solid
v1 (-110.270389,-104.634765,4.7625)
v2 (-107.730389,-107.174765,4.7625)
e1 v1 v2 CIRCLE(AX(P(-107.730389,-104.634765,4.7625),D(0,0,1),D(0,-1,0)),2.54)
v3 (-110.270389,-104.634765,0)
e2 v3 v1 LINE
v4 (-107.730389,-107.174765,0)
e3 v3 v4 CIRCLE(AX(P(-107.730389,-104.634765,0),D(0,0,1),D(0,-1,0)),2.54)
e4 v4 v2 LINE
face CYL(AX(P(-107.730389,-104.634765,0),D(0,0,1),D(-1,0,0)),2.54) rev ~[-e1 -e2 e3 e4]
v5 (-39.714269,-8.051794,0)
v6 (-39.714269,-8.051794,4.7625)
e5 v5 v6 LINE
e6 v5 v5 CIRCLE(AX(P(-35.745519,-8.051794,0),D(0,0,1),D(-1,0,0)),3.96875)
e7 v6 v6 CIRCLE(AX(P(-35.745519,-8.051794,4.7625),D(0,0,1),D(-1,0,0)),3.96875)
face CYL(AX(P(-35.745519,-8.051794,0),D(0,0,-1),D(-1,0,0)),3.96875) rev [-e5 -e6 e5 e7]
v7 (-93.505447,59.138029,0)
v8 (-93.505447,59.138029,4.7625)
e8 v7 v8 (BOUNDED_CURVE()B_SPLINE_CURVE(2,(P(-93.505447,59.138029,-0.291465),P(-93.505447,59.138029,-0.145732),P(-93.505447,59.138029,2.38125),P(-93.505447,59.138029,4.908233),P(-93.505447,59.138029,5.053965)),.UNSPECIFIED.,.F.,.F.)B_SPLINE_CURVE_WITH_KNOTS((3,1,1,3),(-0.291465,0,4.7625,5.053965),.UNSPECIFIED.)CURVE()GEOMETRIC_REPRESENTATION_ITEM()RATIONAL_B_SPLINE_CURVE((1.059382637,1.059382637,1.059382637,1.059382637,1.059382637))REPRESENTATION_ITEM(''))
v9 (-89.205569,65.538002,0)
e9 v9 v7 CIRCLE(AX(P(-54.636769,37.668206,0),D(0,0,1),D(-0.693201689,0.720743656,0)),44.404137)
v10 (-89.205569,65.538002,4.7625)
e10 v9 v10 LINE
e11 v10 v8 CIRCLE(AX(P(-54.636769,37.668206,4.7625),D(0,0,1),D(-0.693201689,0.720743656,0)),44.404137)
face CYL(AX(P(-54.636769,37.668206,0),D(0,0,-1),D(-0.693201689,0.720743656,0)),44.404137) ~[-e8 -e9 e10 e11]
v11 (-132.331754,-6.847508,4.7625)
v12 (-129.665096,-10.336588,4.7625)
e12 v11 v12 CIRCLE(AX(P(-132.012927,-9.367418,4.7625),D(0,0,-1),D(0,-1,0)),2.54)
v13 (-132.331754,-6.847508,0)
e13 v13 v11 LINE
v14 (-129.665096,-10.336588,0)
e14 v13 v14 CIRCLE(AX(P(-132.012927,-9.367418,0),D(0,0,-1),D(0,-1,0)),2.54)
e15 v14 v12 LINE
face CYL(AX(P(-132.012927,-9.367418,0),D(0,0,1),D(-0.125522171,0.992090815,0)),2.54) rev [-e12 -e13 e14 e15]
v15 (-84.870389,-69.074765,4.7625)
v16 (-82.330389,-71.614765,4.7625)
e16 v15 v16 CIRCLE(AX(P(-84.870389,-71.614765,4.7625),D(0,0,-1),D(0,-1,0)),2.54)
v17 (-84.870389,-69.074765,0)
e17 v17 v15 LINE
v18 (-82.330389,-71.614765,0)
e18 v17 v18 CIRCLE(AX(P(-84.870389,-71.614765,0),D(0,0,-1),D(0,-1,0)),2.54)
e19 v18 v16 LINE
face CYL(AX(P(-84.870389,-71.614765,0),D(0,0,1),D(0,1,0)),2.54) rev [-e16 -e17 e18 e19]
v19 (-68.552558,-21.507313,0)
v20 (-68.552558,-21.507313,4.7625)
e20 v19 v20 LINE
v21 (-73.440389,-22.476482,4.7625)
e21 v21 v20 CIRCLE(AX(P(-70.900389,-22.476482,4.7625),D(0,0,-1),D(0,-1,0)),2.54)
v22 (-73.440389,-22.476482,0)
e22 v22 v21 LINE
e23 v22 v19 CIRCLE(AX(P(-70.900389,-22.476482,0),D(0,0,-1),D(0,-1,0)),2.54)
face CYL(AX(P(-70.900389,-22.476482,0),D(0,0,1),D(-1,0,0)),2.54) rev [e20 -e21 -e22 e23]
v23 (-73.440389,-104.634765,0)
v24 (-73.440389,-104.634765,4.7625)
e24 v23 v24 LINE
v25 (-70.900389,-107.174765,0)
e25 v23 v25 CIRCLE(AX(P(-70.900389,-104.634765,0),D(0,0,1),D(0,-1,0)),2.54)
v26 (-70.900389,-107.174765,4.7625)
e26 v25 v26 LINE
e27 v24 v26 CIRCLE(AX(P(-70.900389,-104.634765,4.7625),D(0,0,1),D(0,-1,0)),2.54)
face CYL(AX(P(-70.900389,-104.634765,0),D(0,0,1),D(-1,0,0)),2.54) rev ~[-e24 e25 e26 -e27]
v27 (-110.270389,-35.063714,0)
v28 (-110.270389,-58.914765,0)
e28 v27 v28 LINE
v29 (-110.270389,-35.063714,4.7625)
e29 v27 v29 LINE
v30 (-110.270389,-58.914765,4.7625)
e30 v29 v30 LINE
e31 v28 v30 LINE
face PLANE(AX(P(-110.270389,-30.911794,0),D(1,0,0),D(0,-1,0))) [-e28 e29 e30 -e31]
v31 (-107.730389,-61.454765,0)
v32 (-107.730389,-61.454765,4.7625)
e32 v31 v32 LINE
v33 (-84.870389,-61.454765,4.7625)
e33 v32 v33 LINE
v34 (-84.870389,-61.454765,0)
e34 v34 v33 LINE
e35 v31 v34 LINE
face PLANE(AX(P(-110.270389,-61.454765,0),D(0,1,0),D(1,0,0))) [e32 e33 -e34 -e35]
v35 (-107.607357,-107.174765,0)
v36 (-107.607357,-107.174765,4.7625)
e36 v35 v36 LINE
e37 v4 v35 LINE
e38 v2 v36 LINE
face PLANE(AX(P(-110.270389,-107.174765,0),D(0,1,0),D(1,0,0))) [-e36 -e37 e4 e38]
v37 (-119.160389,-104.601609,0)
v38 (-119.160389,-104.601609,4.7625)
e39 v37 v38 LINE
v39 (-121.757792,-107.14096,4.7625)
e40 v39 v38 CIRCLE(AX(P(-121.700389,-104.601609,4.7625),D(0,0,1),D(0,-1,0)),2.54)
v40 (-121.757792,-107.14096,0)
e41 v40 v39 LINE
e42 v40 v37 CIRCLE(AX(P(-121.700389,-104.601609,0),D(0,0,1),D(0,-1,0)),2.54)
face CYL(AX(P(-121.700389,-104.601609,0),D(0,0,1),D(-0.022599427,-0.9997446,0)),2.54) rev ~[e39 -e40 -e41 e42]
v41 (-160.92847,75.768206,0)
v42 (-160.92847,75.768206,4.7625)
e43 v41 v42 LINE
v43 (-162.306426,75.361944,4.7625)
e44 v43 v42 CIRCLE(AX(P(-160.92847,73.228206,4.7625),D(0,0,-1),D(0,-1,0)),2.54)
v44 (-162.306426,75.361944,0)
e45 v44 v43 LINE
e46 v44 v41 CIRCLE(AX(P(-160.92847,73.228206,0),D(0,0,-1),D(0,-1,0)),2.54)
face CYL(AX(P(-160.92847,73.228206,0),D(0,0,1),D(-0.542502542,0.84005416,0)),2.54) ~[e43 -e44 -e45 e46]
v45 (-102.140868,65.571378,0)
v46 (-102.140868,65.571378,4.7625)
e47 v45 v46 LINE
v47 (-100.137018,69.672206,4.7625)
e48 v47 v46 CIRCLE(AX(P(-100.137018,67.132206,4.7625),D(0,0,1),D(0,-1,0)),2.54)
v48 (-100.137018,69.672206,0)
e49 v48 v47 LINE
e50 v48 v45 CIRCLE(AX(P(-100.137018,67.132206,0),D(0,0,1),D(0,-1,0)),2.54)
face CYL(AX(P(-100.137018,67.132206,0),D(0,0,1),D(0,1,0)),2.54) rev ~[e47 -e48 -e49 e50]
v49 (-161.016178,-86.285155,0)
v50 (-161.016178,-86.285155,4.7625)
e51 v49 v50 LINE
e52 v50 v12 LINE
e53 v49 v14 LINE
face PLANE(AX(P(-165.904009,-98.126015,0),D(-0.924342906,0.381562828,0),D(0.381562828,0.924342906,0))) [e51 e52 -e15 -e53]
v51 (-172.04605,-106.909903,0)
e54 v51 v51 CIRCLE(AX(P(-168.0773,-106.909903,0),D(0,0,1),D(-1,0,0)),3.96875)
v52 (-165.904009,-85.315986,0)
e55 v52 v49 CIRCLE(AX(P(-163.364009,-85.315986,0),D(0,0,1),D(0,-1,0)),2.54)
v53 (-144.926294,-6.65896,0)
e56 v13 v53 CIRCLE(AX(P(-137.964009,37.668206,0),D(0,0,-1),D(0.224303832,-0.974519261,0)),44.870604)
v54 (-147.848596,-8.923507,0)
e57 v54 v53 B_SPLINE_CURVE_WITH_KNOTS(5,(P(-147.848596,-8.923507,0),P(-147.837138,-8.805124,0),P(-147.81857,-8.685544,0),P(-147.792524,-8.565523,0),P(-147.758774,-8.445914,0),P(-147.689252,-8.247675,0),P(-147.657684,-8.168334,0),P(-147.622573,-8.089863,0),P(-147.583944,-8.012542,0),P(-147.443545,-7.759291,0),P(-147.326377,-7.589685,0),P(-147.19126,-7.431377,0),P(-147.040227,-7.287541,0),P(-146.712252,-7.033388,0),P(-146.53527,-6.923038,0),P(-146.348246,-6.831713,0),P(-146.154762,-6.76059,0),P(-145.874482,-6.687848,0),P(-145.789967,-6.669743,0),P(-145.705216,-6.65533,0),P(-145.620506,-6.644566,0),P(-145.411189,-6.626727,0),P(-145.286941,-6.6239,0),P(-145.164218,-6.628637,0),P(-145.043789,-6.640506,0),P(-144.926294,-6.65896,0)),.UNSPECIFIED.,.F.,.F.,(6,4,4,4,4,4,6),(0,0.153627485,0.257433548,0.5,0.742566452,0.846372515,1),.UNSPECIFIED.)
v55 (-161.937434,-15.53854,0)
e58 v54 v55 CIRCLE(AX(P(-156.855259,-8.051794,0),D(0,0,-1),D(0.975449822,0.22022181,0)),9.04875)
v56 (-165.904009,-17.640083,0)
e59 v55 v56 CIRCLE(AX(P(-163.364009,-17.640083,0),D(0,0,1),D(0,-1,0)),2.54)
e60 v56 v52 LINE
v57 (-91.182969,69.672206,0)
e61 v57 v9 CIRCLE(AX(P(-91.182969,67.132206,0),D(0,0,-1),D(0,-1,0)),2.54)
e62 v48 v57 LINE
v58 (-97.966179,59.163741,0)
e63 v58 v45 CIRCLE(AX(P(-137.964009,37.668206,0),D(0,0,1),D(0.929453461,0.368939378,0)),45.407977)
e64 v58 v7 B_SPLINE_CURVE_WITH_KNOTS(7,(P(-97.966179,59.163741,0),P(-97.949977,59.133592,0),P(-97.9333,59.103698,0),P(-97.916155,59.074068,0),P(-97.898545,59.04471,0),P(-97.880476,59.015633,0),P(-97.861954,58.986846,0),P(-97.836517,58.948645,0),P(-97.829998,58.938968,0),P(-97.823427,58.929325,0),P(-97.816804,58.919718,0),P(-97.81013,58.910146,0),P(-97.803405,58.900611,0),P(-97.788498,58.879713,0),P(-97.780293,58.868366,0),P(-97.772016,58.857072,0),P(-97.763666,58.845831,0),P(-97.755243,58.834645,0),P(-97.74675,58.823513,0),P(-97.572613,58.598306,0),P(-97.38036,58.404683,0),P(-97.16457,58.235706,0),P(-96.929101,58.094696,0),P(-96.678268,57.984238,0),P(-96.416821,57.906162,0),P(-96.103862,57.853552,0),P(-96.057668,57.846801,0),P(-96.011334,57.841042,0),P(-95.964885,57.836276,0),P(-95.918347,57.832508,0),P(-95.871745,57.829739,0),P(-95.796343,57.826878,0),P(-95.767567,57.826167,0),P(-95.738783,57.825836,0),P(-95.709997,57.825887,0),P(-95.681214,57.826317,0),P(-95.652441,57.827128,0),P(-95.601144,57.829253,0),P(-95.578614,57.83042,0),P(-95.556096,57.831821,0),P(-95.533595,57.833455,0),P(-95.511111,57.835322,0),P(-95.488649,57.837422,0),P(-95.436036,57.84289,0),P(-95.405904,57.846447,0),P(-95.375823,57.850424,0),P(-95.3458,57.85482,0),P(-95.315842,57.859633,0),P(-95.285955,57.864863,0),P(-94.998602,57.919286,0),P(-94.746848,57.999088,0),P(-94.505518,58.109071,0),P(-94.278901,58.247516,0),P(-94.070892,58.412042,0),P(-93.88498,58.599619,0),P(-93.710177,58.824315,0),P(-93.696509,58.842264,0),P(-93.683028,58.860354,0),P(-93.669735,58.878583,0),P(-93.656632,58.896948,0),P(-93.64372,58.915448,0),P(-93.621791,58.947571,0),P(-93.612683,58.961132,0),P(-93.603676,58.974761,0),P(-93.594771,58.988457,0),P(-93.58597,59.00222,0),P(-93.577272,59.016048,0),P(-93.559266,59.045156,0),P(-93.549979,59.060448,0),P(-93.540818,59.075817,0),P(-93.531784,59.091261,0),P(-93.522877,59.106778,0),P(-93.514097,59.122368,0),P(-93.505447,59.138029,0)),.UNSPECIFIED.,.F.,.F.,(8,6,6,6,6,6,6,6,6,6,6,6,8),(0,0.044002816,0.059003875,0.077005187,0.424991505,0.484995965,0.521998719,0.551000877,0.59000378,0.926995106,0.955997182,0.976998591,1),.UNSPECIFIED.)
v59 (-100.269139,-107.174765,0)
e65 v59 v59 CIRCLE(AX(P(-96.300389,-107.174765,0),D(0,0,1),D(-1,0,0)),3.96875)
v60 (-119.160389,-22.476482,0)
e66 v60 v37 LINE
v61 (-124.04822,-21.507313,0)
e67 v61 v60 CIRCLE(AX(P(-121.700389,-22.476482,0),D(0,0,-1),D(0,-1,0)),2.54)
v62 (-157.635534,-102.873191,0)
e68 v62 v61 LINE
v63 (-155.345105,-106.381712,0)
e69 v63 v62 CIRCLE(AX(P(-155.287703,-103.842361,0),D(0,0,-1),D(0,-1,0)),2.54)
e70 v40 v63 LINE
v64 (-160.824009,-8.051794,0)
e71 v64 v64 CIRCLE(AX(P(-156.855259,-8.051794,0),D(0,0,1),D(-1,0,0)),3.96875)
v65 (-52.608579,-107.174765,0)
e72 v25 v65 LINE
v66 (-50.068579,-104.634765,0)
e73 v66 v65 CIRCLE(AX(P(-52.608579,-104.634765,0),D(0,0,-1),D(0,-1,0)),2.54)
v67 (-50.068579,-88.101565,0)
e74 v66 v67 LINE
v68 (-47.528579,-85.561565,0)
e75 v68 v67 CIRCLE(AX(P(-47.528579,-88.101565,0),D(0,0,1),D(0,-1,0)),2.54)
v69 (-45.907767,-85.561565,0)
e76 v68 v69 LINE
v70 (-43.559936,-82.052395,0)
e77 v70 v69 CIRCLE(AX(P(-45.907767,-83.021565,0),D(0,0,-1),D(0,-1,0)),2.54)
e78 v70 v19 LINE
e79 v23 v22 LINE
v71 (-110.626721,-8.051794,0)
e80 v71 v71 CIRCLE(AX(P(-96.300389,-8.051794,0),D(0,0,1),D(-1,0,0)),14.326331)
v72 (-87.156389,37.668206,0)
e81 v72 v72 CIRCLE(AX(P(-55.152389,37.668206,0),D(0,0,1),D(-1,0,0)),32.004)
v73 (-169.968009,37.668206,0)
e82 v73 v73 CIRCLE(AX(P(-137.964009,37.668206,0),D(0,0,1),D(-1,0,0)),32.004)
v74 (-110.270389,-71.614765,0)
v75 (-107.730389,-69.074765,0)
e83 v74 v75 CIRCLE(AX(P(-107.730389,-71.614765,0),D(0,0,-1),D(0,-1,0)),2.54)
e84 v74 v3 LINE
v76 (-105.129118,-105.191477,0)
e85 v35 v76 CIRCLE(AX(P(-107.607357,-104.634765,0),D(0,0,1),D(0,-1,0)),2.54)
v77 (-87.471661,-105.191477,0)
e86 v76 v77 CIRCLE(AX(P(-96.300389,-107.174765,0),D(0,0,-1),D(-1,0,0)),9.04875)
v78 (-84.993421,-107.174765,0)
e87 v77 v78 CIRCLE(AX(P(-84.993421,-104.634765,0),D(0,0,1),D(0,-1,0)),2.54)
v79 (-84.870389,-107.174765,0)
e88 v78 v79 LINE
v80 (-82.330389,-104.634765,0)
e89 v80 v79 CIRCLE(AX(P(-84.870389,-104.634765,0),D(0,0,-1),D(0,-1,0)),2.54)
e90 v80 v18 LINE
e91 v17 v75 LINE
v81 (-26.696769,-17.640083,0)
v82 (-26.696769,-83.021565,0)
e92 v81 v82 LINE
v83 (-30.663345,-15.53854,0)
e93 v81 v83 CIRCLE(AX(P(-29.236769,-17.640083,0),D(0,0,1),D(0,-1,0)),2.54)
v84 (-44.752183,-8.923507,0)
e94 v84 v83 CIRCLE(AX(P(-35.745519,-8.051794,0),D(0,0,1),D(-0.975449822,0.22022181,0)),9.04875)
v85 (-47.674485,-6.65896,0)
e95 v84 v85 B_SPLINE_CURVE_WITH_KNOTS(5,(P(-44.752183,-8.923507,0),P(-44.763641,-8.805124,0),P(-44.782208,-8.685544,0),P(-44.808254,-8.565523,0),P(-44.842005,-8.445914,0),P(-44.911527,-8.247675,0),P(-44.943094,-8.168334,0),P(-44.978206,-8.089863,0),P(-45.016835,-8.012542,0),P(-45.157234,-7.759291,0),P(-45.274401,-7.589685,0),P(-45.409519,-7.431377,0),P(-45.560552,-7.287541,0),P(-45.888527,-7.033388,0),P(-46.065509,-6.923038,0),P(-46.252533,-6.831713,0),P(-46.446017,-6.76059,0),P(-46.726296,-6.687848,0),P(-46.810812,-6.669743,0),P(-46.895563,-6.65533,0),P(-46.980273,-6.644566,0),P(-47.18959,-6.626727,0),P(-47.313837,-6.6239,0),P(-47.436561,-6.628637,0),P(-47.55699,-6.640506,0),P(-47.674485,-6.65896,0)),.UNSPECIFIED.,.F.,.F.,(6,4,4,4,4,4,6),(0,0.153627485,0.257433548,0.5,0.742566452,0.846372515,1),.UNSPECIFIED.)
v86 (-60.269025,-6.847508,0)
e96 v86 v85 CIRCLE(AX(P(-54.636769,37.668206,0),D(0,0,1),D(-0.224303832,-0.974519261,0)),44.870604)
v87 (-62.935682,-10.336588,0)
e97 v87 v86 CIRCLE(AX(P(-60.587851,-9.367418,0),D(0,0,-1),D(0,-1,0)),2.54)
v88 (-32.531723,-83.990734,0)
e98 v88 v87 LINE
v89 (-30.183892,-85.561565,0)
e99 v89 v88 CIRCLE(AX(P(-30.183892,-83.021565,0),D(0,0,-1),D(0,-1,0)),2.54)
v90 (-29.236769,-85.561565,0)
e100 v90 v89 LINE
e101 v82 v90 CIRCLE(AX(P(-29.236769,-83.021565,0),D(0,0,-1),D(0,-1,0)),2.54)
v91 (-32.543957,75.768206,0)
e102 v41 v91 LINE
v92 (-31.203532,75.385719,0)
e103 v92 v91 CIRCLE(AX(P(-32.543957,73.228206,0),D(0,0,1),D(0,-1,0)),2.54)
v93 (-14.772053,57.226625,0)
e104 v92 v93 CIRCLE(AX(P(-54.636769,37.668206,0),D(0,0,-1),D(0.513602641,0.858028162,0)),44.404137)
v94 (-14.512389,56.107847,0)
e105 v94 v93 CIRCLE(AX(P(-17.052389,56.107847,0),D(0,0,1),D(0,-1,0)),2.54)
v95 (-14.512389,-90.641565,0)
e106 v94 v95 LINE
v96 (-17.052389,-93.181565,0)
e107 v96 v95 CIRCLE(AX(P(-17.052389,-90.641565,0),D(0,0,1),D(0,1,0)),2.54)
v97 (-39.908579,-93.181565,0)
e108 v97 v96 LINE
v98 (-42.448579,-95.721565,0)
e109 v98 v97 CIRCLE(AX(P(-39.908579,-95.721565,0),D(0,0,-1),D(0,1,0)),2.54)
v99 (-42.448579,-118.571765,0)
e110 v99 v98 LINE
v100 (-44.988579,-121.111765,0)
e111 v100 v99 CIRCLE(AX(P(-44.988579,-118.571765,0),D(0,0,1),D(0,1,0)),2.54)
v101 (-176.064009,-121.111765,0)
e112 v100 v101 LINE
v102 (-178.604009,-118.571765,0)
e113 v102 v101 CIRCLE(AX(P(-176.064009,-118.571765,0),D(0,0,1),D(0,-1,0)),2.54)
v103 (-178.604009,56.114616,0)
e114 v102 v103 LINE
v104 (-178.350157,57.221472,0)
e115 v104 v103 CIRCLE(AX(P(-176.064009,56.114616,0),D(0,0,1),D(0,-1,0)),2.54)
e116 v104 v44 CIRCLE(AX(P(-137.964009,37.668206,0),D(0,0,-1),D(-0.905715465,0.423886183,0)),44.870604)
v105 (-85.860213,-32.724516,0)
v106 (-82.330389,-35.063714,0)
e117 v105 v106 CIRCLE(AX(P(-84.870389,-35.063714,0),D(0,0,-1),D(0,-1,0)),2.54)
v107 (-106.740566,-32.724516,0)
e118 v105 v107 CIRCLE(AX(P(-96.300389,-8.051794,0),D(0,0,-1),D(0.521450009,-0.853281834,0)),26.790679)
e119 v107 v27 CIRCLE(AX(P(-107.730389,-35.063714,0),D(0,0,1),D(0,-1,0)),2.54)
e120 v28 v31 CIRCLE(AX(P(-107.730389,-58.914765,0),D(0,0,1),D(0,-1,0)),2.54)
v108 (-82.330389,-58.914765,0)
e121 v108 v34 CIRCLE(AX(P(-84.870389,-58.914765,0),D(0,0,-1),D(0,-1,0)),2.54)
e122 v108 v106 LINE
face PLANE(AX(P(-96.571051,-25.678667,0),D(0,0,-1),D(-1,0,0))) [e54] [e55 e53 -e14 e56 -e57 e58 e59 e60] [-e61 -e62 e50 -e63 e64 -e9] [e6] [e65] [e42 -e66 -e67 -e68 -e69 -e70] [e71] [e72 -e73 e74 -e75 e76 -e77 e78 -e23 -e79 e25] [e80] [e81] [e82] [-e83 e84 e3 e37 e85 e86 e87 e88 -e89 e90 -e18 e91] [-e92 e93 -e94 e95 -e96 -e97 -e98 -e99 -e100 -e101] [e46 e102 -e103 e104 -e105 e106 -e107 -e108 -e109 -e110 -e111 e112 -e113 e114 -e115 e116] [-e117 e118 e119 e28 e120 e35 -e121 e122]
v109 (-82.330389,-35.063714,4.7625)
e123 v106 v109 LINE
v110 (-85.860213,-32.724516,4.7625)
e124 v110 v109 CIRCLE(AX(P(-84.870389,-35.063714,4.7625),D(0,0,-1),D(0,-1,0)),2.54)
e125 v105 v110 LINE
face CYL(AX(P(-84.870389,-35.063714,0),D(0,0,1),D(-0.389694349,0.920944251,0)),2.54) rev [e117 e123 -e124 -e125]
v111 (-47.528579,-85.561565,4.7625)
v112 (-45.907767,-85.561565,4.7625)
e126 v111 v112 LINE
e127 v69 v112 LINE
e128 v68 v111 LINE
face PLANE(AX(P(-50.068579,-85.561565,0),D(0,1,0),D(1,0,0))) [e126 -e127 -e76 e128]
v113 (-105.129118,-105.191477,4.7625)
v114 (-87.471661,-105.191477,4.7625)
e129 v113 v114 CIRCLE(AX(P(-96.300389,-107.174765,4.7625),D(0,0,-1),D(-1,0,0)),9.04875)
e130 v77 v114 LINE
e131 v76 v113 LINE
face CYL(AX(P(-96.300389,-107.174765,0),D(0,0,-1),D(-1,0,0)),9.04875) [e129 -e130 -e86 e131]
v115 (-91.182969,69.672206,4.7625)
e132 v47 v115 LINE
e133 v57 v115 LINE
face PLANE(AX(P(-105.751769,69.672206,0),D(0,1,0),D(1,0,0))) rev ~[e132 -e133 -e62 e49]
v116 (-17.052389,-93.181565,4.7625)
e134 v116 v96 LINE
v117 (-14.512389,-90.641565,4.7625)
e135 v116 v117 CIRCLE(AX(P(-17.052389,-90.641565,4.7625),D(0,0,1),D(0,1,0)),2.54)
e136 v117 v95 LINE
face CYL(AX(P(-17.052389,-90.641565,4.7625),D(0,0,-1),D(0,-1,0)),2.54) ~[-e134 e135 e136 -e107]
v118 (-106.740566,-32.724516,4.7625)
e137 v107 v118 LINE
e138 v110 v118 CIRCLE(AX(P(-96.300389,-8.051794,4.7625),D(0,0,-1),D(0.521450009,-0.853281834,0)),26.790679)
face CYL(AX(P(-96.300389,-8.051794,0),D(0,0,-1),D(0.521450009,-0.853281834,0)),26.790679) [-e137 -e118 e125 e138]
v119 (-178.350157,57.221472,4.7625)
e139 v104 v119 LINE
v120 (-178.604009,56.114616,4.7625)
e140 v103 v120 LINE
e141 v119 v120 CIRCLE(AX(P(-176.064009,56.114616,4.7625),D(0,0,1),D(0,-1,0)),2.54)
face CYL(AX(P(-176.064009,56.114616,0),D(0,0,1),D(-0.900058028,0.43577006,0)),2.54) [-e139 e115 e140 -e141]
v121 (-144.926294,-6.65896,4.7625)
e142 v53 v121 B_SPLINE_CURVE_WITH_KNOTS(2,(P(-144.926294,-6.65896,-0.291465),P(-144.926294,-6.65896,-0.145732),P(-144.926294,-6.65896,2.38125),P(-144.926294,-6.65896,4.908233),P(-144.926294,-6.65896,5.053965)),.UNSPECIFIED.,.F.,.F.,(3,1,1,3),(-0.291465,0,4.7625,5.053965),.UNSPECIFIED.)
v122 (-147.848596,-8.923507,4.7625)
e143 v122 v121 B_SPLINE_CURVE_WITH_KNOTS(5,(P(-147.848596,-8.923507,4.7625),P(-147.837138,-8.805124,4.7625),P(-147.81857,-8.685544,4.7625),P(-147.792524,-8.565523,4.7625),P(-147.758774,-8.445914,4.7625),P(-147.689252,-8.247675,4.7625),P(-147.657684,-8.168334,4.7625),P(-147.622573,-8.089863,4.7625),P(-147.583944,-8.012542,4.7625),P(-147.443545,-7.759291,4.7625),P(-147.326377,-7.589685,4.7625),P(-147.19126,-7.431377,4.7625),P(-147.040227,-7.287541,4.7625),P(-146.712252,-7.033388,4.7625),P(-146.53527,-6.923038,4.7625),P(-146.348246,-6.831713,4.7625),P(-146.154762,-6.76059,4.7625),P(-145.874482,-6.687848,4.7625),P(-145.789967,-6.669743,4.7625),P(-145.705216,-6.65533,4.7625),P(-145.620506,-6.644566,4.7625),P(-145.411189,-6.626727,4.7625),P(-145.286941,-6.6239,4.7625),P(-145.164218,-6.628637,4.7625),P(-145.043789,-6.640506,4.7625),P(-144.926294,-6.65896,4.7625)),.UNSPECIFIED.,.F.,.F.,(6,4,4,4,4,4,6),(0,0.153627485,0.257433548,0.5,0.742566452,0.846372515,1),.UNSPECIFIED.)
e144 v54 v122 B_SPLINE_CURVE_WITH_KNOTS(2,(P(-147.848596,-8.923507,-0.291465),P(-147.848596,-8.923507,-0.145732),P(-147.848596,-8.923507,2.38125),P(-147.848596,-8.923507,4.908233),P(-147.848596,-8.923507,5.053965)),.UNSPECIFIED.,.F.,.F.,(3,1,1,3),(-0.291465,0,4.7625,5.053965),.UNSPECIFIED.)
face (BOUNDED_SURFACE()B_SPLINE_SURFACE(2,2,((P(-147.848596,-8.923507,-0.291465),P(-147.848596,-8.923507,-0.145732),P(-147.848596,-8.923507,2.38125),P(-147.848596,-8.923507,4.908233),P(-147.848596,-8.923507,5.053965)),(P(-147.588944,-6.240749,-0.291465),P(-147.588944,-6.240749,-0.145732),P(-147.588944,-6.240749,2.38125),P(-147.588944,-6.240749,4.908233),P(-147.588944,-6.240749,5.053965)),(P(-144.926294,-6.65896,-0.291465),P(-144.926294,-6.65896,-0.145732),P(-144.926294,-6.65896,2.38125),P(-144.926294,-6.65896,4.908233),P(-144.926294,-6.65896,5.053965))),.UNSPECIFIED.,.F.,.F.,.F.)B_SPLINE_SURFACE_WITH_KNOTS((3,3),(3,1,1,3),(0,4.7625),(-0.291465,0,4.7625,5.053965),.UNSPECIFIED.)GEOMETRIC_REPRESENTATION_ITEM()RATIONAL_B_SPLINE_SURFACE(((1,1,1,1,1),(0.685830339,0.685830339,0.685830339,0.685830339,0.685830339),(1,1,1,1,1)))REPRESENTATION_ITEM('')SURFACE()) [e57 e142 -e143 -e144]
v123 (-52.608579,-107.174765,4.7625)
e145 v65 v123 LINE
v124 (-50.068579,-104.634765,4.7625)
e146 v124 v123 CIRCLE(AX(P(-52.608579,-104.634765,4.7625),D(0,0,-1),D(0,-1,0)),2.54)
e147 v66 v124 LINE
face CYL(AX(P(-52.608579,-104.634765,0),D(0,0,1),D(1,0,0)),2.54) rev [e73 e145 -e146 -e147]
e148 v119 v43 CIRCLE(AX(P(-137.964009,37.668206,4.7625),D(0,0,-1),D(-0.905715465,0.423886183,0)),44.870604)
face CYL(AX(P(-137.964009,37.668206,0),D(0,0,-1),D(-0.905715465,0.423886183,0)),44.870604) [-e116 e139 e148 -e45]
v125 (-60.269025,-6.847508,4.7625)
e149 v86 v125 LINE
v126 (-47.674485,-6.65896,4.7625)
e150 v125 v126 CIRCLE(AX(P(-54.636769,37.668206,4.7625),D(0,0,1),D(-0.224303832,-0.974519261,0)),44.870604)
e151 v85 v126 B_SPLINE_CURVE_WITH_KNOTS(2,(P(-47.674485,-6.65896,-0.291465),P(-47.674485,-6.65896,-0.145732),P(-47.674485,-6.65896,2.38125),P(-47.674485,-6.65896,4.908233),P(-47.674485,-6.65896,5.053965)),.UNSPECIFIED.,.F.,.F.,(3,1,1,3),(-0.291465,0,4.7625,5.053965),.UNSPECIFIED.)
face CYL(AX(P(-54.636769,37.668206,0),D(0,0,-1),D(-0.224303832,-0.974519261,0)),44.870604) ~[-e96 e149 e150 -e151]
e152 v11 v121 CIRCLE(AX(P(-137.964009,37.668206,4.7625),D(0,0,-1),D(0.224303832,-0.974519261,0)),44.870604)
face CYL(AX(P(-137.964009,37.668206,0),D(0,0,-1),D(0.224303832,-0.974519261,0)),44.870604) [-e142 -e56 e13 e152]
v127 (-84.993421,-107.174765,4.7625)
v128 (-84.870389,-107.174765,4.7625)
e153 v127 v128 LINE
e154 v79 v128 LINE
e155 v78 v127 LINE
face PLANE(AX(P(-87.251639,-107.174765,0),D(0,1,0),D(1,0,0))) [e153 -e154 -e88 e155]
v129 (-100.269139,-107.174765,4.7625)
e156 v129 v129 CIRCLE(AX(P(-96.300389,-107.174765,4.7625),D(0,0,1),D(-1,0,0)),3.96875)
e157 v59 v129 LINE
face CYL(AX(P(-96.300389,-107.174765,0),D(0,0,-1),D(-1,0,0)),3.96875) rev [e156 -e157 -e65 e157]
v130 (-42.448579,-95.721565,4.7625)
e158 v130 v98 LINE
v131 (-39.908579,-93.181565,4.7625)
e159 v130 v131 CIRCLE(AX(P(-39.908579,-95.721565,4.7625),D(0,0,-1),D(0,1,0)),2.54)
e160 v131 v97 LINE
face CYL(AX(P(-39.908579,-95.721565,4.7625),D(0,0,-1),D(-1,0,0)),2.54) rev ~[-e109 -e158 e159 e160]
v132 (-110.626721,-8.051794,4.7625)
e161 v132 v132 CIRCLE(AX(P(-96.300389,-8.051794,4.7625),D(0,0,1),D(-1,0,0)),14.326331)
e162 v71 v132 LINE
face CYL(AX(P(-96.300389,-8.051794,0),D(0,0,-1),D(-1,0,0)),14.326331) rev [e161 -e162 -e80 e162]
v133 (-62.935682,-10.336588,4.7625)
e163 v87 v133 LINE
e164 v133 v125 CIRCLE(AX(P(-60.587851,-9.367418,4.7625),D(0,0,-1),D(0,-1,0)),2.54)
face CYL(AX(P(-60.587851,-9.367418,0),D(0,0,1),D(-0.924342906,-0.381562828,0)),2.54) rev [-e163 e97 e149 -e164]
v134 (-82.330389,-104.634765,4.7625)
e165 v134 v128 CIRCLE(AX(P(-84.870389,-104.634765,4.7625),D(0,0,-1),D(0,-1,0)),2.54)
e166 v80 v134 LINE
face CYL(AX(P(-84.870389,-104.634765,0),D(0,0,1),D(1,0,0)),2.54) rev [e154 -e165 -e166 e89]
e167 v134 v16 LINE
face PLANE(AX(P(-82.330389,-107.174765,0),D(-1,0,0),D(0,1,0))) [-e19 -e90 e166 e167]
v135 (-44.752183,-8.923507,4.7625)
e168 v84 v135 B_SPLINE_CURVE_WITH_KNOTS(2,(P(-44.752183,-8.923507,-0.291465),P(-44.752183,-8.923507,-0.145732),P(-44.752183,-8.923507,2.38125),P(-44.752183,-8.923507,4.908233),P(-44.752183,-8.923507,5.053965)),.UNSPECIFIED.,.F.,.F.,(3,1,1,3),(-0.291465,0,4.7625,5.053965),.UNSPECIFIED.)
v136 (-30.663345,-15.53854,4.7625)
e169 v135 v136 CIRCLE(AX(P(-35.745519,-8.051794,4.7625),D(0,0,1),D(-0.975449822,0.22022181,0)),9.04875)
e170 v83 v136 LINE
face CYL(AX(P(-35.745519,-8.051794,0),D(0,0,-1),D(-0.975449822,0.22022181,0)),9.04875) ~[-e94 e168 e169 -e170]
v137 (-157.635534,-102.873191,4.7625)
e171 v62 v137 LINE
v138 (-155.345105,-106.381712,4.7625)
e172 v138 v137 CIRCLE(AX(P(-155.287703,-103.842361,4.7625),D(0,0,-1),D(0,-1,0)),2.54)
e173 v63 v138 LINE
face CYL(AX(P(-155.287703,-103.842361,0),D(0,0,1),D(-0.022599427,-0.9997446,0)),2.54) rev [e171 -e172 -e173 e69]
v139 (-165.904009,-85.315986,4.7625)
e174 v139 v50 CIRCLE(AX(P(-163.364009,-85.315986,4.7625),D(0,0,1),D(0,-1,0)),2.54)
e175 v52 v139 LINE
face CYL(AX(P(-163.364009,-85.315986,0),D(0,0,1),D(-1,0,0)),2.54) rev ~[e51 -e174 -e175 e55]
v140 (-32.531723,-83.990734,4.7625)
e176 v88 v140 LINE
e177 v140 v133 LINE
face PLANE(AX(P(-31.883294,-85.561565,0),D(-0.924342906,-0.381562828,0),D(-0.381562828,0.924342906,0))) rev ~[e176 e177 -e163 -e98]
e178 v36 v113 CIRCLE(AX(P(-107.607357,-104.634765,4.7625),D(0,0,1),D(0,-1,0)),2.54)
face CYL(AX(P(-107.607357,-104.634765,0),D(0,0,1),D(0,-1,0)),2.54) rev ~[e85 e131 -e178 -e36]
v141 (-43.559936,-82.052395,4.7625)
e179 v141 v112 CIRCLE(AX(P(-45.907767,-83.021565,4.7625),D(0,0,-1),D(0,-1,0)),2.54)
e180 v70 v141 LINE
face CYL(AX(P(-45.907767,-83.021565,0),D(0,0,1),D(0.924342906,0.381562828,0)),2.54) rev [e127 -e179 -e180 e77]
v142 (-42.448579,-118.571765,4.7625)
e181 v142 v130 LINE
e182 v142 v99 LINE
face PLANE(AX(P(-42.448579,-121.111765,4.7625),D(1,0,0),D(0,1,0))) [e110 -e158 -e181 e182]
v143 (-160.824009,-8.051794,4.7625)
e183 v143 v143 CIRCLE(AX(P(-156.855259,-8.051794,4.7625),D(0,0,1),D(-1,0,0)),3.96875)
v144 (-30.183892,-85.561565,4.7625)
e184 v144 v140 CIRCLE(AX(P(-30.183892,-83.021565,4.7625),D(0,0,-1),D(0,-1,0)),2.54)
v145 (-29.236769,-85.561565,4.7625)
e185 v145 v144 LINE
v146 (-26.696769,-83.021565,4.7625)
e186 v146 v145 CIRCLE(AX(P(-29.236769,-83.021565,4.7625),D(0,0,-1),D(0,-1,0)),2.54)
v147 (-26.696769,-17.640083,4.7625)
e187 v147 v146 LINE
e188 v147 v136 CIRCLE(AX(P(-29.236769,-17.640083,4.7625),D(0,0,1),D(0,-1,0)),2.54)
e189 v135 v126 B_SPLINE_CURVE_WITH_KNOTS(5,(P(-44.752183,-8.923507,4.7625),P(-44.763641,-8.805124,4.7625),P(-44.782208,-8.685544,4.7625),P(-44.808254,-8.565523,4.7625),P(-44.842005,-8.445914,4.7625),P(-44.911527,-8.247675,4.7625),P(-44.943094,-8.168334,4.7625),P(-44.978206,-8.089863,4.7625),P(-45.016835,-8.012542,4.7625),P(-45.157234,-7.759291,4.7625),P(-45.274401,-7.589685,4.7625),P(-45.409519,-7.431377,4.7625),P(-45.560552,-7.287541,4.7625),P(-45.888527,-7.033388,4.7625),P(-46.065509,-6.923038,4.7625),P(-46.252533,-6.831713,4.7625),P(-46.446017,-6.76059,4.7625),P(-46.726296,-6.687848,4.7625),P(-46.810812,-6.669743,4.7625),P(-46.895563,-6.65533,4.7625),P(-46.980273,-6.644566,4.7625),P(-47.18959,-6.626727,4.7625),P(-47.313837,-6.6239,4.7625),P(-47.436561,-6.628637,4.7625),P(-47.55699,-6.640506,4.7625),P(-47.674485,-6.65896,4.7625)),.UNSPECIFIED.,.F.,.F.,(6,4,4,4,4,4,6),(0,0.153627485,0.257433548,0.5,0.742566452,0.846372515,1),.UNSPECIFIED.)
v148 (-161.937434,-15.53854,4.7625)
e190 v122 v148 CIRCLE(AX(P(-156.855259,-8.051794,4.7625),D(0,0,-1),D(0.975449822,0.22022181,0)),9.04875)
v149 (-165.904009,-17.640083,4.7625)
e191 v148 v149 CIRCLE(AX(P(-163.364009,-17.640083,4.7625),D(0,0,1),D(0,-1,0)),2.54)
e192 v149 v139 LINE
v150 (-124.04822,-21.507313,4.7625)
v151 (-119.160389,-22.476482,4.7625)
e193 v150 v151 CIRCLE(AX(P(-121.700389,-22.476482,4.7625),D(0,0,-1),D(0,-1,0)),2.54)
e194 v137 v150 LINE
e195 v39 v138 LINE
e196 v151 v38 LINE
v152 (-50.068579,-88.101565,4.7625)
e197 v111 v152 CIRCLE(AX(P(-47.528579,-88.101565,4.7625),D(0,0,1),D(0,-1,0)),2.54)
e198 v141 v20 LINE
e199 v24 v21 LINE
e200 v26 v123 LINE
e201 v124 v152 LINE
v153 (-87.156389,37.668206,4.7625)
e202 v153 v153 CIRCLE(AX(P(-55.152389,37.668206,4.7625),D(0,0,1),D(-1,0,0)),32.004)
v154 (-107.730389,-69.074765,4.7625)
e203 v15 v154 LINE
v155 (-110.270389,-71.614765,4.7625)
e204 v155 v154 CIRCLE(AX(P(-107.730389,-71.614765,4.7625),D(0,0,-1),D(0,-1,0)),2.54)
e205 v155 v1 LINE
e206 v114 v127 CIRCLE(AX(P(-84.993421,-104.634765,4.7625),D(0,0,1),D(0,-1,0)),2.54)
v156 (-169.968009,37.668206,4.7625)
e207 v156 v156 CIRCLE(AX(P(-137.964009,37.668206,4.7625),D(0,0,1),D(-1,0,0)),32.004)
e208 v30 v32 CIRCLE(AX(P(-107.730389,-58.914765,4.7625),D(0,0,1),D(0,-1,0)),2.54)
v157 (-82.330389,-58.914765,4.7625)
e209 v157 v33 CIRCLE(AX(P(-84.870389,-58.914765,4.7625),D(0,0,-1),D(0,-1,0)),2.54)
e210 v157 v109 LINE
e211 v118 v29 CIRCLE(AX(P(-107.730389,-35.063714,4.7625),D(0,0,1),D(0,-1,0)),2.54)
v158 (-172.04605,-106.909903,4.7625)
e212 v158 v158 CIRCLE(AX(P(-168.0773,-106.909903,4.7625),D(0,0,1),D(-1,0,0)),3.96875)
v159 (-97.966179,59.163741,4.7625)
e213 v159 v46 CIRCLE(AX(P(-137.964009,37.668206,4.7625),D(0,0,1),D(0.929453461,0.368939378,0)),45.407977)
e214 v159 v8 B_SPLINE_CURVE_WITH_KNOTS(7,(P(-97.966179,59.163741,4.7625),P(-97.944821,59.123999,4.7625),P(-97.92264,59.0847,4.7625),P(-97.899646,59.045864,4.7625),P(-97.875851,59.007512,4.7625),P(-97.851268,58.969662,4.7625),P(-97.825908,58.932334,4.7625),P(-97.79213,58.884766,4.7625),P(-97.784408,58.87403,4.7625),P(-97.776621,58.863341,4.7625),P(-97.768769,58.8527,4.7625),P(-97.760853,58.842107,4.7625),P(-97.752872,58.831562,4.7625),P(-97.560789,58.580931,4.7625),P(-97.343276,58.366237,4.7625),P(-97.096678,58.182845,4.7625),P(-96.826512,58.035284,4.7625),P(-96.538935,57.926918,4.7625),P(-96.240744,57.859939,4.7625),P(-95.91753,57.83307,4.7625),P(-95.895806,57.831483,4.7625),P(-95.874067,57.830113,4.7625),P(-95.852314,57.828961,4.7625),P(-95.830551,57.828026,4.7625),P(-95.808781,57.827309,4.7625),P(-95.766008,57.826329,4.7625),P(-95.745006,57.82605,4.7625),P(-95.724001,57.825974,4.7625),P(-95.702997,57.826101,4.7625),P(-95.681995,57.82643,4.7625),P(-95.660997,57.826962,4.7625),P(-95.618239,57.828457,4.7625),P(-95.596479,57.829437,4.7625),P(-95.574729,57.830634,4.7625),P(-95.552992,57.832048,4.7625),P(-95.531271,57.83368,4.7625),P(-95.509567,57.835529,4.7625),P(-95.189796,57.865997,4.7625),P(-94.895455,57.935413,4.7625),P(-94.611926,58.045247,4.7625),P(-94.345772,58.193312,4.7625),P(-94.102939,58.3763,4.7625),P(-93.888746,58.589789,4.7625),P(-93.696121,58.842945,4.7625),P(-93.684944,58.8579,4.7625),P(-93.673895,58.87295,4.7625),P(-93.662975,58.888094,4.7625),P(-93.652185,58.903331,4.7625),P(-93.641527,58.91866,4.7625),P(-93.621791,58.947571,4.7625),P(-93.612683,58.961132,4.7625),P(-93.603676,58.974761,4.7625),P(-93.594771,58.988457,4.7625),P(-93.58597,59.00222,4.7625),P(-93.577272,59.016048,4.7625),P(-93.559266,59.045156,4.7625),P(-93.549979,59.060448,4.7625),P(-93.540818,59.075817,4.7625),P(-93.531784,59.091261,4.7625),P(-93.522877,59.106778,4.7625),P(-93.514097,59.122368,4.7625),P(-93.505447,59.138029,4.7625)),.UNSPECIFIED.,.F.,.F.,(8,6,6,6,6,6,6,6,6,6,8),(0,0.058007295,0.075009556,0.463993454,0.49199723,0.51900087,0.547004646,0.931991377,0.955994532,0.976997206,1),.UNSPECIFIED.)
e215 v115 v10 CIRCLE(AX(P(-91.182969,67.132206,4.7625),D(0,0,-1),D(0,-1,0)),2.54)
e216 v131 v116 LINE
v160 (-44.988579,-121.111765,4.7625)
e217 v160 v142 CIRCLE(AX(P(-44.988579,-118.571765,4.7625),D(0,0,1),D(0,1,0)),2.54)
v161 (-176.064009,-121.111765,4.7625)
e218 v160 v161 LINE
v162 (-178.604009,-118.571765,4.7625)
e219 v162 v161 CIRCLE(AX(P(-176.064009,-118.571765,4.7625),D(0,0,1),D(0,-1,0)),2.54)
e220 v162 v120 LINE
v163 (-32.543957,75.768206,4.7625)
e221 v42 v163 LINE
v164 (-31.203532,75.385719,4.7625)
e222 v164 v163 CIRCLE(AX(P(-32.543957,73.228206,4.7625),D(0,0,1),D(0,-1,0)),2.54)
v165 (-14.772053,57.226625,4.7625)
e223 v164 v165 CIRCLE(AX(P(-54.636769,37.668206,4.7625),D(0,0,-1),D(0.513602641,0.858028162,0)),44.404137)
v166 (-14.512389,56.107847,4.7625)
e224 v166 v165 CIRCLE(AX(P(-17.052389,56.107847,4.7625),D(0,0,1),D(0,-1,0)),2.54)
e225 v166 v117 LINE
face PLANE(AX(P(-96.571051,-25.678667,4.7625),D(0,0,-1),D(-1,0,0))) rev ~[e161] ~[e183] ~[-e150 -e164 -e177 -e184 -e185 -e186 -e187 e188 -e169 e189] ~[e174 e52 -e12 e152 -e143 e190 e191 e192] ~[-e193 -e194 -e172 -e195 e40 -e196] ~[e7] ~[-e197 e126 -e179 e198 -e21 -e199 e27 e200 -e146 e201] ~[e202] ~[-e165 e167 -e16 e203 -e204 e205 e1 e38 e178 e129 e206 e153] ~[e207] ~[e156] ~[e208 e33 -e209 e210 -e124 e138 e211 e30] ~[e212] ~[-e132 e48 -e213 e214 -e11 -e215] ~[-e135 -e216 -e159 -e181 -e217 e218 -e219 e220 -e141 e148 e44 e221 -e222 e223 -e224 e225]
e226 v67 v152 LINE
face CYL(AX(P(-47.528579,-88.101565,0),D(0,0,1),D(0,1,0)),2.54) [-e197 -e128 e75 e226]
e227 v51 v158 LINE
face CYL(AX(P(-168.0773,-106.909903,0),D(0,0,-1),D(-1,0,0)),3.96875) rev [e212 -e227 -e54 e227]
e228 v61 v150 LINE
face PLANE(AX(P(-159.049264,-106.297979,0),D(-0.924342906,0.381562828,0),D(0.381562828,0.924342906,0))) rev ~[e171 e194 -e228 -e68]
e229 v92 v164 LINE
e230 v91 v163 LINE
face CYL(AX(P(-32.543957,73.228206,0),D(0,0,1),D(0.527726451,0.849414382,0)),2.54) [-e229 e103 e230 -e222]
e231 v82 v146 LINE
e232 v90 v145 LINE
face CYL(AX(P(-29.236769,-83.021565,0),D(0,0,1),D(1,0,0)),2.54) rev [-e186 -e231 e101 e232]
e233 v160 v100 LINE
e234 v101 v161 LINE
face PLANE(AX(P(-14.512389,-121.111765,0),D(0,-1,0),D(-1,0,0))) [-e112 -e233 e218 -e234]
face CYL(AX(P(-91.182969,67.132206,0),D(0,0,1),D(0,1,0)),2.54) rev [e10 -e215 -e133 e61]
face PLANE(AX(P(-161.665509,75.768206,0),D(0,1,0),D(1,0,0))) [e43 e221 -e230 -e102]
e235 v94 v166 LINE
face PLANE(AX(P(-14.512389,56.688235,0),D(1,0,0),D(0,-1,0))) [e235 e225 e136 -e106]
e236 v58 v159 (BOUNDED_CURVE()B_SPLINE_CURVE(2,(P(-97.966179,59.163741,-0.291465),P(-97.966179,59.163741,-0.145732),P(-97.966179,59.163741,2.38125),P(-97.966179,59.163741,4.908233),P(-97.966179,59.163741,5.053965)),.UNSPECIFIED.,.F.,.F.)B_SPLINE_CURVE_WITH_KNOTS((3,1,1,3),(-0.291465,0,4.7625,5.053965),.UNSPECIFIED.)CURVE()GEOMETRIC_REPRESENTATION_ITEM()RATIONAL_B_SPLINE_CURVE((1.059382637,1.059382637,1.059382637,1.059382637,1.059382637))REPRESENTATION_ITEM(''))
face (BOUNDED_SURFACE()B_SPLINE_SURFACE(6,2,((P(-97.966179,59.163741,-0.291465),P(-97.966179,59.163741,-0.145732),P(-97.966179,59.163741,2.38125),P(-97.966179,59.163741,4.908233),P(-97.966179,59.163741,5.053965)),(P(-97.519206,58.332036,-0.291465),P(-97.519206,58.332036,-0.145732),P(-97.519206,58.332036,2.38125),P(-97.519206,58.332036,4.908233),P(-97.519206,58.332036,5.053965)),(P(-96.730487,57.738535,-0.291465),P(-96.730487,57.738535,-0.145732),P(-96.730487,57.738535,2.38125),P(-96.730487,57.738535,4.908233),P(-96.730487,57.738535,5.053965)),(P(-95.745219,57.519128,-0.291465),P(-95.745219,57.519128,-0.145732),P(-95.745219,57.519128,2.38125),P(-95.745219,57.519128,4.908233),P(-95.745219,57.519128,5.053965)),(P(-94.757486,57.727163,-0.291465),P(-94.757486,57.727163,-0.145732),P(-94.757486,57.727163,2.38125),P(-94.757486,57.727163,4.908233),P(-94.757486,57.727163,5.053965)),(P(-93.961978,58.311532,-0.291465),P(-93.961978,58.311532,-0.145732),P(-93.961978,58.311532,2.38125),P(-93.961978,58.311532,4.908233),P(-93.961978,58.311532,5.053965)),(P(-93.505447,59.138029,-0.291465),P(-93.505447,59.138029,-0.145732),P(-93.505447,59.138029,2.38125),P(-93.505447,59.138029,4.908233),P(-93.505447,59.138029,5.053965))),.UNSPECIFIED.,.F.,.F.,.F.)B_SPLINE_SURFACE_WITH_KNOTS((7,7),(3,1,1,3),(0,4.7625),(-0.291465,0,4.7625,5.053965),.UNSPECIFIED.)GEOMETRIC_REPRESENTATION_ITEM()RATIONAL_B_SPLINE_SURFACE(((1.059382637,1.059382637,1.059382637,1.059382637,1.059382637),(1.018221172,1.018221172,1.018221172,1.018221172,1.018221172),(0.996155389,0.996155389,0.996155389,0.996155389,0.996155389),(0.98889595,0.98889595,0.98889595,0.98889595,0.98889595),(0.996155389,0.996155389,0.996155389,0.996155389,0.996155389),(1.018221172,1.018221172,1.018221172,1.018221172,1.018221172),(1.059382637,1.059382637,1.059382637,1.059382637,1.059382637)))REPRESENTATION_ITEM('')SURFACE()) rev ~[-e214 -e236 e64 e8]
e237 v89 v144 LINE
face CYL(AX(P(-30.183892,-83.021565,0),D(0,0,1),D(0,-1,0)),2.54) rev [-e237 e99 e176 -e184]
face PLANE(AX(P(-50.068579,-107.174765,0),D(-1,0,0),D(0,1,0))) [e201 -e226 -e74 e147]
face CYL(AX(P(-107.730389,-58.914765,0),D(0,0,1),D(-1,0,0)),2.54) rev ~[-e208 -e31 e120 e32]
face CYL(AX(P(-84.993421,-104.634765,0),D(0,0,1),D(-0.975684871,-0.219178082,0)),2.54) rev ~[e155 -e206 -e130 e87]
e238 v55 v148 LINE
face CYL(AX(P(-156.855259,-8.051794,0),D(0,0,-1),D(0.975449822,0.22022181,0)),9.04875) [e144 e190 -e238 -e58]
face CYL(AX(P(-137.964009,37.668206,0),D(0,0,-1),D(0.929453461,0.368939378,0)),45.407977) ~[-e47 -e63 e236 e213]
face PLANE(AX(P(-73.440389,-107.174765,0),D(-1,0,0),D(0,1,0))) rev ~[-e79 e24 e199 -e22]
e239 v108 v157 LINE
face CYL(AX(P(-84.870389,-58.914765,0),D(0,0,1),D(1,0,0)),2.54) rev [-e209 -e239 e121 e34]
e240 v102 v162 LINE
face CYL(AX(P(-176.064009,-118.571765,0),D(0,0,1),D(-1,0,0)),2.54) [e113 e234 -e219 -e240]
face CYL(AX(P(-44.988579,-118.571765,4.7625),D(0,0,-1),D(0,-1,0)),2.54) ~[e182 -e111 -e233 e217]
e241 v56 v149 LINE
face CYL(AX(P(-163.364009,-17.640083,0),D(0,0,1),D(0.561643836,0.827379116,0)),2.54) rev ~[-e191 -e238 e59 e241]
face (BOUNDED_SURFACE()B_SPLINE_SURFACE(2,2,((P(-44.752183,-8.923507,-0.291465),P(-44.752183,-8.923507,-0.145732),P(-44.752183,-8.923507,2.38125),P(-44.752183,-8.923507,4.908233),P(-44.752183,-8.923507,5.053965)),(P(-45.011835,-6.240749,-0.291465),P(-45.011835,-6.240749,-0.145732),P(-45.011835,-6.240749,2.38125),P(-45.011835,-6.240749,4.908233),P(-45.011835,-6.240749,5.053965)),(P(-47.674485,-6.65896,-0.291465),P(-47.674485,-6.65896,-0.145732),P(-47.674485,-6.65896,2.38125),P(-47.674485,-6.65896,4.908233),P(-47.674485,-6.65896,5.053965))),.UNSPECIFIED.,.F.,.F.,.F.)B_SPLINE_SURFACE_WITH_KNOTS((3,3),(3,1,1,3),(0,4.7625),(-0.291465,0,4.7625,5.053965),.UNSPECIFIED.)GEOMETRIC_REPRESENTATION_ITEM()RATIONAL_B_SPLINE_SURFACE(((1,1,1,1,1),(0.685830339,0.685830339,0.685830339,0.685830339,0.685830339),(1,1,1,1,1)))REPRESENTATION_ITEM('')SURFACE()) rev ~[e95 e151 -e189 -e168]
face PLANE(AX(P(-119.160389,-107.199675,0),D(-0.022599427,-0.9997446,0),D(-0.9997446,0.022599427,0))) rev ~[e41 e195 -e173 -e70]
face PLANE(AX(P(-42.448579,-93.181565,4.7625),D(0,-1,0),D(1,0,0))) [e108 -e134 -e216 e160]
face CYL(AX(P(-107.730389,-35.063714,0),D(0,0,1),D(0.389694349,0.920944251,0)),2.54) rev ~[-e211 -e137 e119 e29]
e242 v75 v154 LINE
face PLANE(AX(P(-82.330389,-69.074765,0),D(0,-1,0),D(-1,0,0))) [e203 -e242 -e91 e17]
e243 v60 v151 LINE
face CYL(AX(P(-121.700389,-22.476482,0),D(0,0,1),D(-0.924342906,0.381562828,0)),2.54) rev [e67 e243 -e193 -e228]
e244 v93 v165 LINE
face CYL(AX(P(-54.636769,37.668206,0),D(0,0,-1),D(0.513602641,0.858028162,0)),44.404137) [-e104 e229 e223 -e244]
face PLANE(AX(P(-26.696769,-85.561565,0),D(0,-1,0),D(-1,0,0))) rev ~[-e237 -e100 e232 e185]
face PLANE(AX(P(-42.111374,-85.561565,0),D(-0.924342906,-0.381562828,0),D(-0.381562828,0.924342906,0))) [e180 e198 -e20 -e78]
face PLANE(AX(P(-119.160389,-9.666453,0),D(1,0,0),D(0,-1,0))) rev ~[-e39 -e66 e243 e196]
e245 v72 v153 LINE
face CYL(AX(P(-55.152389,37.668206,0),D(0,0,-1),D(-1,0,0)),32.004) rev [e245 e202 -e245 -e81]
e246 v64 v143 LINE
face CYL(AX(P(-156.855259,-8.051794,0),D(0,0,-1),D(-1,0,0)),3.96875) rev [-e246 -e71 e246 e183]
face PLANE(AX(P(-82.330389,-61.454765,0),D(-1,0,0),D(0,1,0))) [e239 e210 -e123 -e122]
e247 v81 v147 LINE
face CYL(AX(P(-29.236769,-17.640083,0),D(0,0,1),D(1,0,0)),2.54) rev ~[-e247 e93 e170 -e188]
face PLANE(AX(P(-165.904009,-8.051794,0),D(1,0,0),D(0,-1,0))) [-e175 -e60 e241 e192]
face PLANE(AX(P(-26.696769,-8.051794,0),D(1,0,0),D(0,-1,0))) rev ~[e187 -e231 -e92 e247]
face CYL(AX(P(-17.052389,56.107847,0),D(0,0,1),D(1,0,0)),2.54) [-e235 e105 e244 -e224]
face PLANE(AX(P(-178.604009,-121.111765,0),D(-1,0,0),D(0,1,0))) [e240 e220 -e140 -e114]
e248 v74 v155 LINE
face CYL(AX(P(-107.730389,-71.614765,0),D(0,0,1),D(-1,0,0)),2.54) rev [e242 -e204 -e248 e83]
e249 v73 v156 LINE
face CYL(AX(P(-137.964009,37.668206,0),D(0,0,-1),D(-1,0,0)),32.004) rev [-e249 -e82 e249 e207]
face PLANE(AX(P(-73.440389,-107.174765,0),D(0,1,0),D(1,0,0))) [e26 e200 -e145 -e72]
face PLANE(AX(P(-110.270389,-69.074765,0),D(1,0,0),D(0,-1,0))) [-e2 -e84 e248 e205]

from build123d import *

# Parameters (mm, degrees)
SKETCH2_R           = 32.004
SKETCH2_R_2         = 14.326331359
SKETCH2_R_3         = 3.96875
BOSS_EXTRUDE3_DEPTH = 4.7625
FILLET2_R           = 2.54
FILLET3_R           = 2.54
FILLET4_R           = 2.54
FILLET5_R           = 2.54
SKETCH3_W           = 27.93619
SKETCH3_H           = 27.930200018
CUT_EXTRUDE1_DEPTH  = 4.7625
FILLET6_R           = 2.54
FILLET7_R           = 2.54


with BuildPart() as part:
    # Sketch2 → Boss-Extrude3 (new body)
    with BuildSketch(Plane.XY):
        with BuildLine():
            Line((-161.665509466, 75.768206346), (-31.830687389, 75.768206346))
            ThreePointArc((-31.830687389, 75.768206346), (-21.757108739, 67.512054819), (-14.51238939, 56.688235417))
            Line((-14.51238939, 56.688235417), (-14.51238939, -121.111764583))
            Line((-14.51238939, -121.111764583), (-178.60400939, -121.111764583))
            Line((-178.60400939, -121.111764583), (-178.60400939, 56.688235417))
            ThreePointArc((-178.60400939, 56.688235417), (-171.519463205, 67.457510218), (-161.665509466, 75.768206346))
        make_face()
        with Locations(Location((-137.96400939, 37.668206346, 0), (0, 0, 180))):
            Circle(SKETCH2_R, mode=Mode.SUBTRACT)
        with Locations(Location((-55.15238939, 37.668206346, 0), (0, 0, 180))):
            Circle(SKETCH2_R, mode=Mode.SUBTRACT)
        with Locations(Location((-96.30038939, -8.051793654, 0), (0, 0, 180))):
            Circle(SKETCH2_R_2, mode=Mode.SUBTRACT)
        with Locations(Location((-35.74551939, -8.051793654, 0), (0, 0, 180))):
            Circle(SKETCH2_R_3, mode=Mode.SUBTRACT)
        with Locations(Location((-156.85525939, -8.051793654, 0), (0, 0, 180))):
            Circle(SKETCH2_R_3, mode=Mode.SUBTRACT)
        with Locations(Location((-168.077299629, -106.909902872, 0), (0, 0, 180))):
            Circle(SKETCH2_R_3, mode=Mode.SUBTRACT)
        with Locations(Location((-96.30038939, -107.174765002, 0), (0, 0, 180))):
            Circle(SKETCH2_R_3, mode=Mode.SUBTRACT)
        Polygon((-119.16038939, -45.520207297), (-119.16038939, -76.631793654), (-119.16038939, -107.199674954), (-159.049264091, -106.297978958), (-119.16038939, -9.66645302), align=None, mode=Mode.SUBTRACT)
        Polygon((-73.44038939, -45.520207297), (-73.44038939, -76.631793654), (-73.44038939, -107.174765002), (-50.06857939, -107.174765002), (-50.06857939, -85.561564565), (-42.111373674, -85.561564565), (-73.44038939, -9.66645302), align=None, mode=Mode.SUBTRACT)
        with BuildLine():
            Line((-165.90400939, -8.051793654), (-165.90400939, -72.234249773))
            Line((-165.90400939, -72.234249773), (-165.90400939, -98.126015002))
            Line((-165.90400939, -98.126015002), (-127.899360964, -6.059061553))
            ThreePointArc((-127.899360964, -6.059061553), (-137.96400939, -7.202397682), (-148.028657817, -6.059061553))
            ThreePointArc((-148.028657817, -6.059061553), (-155.852721218, -17.044835062), (-165.90400939, -8.051793654))
        make_face(mode=Mode.SUBTRACT)
        with BuildLine():
            Line((-26.69676939, -8.051793654), (-26.69676939, -72.234249773))
            Line((-26.69676939, -72.234249773), (-26.69676939, -85.561564565))
            Line((-26.69676939, -85.561564565), (-31.883294019, -85.561564565))
            Line((-31.883294019, -85.561564565), (-64.701417817, -6.059061553))
            ThreePointArc((-64.701417817, -6.059061553), (-54.63676939, -7.202397682), (-44.572120964, -6.059061553))
            ThreePointArc((-44.572120964, -6.059061553), (-36.748057563, -17.044835062), (-26.69676939, -8.051793654))
        make_face(mode=Mode.SUBTRACT)
        with BuildLine():
            Line((-110.27038939, -107.174765002), (-105.34913939, -107.174765002))
            ThreePointArc((-105.34913939, -107.174765002), (-96.30038939, -98.126015002), (-87.25163939, -107.174765002))
            Line((-87.25163939, -107.174765002), (-82.33038939, -107.174765002))
            Line((-82.33038939, -107.174765002), (-82.33038939, -69.074765002))
            Line((-82.33038939, -69.074765002), (-110.27038939, -69.074765002))
            Line((-110.27038939, -69.074765002), (-110.27038939, -107.174765002))
        make_face(mode=Mode.SUBTRACT)
        with BuildLine():
            Line((-105.751769429, 69.672206346), (-85.417792119, 69.672206346))
            ThreePointArc((-85.417792119, 69.672206346), (-91.388421836, 62.588949087), (-95.759407575, 54.420997306))
            ThreePointArc((-95.759407575, 54.420997306), (-99.982218631, 62.553302087), (-105.751769429, 69.672206346))
        make_face(mode=Mode.SUBTRACT)
        with BuildLine():
            Line((-110.27038939, -30.911793654), (-110.27038939, -61.454765002))
            Line((-110.27038939, -61.454765002), (-82.33038939, -61.454765002))
            Line((-82.33038939, -61.454765002), (-82.33038939, -30.911793654))
            ThreePointArc((-82.33038939, -30.911793654), (-96.30038939, -34.842473003), (-110.27038939, -30.911793654))
        make_face(mode=Mode.SUBTRACT)
    extrude(amount=BOSS_EXTRUDE3_DEPTH)

    # Fillet2
    fillet2_edges = [part.edges().sort_by_distance(p)[0] for p in [
        (-82.33038939, -30.911793654, 2.38125),
        (-110.27038939, -30.911793654, 2.38125),
        (-148.028657817, -6.059061553, 2.38125),
        (-165.90400939, -8.051793654, 2.38125),
        (-26.69676939, -8.051793654, 2.38125),
        (-44.572120964, -6.059061553, 2.38125),
    ]]
    fillet(fillet2_edges, radius=FILLET2_R)

    # Fillet3
    fillet3_edges = [part.edges().sort_by_distance(p)[0] for p in [
        (-110.27038939, -61.454765002, 2.38125),
        (-82.33038939, -61.454765002, 2.38125),
        (-110.27038939, -107.174765002, 2.38125),
        (-105.34913939, -107.174765002, 2.38125),
        (-87.25163939, -107.174765002, 2.38125),
        (-82.33038939, -107.174765002, 2.38125),
        (-73.44038939, -107.174765002, 2.38125),
        (-50.06857939, -107.174765002, 2.38125),
        (-119.16038939, -107.199674954, 2.38125),
        (-26.69676939, -85.561564565, 2.38125),
    ]]
    fillet(fillet3_edges, radius=FILLET3_R)

    # Fillet4
    fillet4_edges = [part.edges().sort_by_distance(p)[0] for p in [
        (-82.33038939, -69.074765002, 2.38125),
        (-110.27038939, -69.074765002, 2.38125),
    ]]
    fillet(fillet4_edges, radius=FILLET4_R)

    # Fillet5
    fillet5_edges = [part.edges().sort_by_distance(p)[0] for p in [
        (-95.759407575, 54.420997306, 2.38125),
        (-85.417792119, 69.672206346, 2.38125),
        (-105.751769429, 69.672206346, 2.38125),
    ]]
    fillet(fillet5_edges, radius=FILLET5_R)

    # Sketch3 → Cut-Extrude1 (cut)
    with BuildSketch(Plane.XY.offset(4.7625)):
        with Locations((-28.48048439, -107.146664574)):
            Rectangle(SKETCH3_W, SKETCH3_H)
    extrude(amount=-CUT_EXTRUDE1_DEPTH, mode=Mode.SUBTRACT)

    # Fillet6
    fillet6_edges = [part.edges().sort_by_distance(p)[0] for p in [
        (-14.51238939, 56.688235417, 2.38125),
        (-178.60400939, -121.111764583, 2.38125),
        (-178.60400939, 56.688235417, 2.38125),
        (-161.665509466, 75.768206346, 2.38125),
        (-31.830687389, 75.768206346, 2.38125),
        (-14.51238939, -93.181564565, 2.38125),
        (-42.44857939, -121.111764583, 2.38125),
        (-42.44857939, -93.181564565, 2.38125),
    ]]
    fillet(fillet6_edges, radius=FILLET6_R)

    # Fillet7
    fillet7_edges = [part.edges().sort_by_distance(p)[0] for p in [
        (-73.44038939, -9.66645302, 2.38125),
        (-50.06857939, -85.561564565, 2.38125),
        (-42.111373674, -85.561564565, 2.38125),
        (-119.16038939, -9.66645302, 2.38125),
        (-159.049264091, -106.297978958, 2.38125),
        (-165.90400939, -98.126015002, 2.38125),
        (-127.899360964, -6.059061553, 2.38125),
        (-64.701417817, -6.059061553, 2.38125),
        (-31.883294019, -85.561564565, 2.38125),
    ]]
    fillet(fillet7_edges, radius=FILLET7_R)


solid = part.part
